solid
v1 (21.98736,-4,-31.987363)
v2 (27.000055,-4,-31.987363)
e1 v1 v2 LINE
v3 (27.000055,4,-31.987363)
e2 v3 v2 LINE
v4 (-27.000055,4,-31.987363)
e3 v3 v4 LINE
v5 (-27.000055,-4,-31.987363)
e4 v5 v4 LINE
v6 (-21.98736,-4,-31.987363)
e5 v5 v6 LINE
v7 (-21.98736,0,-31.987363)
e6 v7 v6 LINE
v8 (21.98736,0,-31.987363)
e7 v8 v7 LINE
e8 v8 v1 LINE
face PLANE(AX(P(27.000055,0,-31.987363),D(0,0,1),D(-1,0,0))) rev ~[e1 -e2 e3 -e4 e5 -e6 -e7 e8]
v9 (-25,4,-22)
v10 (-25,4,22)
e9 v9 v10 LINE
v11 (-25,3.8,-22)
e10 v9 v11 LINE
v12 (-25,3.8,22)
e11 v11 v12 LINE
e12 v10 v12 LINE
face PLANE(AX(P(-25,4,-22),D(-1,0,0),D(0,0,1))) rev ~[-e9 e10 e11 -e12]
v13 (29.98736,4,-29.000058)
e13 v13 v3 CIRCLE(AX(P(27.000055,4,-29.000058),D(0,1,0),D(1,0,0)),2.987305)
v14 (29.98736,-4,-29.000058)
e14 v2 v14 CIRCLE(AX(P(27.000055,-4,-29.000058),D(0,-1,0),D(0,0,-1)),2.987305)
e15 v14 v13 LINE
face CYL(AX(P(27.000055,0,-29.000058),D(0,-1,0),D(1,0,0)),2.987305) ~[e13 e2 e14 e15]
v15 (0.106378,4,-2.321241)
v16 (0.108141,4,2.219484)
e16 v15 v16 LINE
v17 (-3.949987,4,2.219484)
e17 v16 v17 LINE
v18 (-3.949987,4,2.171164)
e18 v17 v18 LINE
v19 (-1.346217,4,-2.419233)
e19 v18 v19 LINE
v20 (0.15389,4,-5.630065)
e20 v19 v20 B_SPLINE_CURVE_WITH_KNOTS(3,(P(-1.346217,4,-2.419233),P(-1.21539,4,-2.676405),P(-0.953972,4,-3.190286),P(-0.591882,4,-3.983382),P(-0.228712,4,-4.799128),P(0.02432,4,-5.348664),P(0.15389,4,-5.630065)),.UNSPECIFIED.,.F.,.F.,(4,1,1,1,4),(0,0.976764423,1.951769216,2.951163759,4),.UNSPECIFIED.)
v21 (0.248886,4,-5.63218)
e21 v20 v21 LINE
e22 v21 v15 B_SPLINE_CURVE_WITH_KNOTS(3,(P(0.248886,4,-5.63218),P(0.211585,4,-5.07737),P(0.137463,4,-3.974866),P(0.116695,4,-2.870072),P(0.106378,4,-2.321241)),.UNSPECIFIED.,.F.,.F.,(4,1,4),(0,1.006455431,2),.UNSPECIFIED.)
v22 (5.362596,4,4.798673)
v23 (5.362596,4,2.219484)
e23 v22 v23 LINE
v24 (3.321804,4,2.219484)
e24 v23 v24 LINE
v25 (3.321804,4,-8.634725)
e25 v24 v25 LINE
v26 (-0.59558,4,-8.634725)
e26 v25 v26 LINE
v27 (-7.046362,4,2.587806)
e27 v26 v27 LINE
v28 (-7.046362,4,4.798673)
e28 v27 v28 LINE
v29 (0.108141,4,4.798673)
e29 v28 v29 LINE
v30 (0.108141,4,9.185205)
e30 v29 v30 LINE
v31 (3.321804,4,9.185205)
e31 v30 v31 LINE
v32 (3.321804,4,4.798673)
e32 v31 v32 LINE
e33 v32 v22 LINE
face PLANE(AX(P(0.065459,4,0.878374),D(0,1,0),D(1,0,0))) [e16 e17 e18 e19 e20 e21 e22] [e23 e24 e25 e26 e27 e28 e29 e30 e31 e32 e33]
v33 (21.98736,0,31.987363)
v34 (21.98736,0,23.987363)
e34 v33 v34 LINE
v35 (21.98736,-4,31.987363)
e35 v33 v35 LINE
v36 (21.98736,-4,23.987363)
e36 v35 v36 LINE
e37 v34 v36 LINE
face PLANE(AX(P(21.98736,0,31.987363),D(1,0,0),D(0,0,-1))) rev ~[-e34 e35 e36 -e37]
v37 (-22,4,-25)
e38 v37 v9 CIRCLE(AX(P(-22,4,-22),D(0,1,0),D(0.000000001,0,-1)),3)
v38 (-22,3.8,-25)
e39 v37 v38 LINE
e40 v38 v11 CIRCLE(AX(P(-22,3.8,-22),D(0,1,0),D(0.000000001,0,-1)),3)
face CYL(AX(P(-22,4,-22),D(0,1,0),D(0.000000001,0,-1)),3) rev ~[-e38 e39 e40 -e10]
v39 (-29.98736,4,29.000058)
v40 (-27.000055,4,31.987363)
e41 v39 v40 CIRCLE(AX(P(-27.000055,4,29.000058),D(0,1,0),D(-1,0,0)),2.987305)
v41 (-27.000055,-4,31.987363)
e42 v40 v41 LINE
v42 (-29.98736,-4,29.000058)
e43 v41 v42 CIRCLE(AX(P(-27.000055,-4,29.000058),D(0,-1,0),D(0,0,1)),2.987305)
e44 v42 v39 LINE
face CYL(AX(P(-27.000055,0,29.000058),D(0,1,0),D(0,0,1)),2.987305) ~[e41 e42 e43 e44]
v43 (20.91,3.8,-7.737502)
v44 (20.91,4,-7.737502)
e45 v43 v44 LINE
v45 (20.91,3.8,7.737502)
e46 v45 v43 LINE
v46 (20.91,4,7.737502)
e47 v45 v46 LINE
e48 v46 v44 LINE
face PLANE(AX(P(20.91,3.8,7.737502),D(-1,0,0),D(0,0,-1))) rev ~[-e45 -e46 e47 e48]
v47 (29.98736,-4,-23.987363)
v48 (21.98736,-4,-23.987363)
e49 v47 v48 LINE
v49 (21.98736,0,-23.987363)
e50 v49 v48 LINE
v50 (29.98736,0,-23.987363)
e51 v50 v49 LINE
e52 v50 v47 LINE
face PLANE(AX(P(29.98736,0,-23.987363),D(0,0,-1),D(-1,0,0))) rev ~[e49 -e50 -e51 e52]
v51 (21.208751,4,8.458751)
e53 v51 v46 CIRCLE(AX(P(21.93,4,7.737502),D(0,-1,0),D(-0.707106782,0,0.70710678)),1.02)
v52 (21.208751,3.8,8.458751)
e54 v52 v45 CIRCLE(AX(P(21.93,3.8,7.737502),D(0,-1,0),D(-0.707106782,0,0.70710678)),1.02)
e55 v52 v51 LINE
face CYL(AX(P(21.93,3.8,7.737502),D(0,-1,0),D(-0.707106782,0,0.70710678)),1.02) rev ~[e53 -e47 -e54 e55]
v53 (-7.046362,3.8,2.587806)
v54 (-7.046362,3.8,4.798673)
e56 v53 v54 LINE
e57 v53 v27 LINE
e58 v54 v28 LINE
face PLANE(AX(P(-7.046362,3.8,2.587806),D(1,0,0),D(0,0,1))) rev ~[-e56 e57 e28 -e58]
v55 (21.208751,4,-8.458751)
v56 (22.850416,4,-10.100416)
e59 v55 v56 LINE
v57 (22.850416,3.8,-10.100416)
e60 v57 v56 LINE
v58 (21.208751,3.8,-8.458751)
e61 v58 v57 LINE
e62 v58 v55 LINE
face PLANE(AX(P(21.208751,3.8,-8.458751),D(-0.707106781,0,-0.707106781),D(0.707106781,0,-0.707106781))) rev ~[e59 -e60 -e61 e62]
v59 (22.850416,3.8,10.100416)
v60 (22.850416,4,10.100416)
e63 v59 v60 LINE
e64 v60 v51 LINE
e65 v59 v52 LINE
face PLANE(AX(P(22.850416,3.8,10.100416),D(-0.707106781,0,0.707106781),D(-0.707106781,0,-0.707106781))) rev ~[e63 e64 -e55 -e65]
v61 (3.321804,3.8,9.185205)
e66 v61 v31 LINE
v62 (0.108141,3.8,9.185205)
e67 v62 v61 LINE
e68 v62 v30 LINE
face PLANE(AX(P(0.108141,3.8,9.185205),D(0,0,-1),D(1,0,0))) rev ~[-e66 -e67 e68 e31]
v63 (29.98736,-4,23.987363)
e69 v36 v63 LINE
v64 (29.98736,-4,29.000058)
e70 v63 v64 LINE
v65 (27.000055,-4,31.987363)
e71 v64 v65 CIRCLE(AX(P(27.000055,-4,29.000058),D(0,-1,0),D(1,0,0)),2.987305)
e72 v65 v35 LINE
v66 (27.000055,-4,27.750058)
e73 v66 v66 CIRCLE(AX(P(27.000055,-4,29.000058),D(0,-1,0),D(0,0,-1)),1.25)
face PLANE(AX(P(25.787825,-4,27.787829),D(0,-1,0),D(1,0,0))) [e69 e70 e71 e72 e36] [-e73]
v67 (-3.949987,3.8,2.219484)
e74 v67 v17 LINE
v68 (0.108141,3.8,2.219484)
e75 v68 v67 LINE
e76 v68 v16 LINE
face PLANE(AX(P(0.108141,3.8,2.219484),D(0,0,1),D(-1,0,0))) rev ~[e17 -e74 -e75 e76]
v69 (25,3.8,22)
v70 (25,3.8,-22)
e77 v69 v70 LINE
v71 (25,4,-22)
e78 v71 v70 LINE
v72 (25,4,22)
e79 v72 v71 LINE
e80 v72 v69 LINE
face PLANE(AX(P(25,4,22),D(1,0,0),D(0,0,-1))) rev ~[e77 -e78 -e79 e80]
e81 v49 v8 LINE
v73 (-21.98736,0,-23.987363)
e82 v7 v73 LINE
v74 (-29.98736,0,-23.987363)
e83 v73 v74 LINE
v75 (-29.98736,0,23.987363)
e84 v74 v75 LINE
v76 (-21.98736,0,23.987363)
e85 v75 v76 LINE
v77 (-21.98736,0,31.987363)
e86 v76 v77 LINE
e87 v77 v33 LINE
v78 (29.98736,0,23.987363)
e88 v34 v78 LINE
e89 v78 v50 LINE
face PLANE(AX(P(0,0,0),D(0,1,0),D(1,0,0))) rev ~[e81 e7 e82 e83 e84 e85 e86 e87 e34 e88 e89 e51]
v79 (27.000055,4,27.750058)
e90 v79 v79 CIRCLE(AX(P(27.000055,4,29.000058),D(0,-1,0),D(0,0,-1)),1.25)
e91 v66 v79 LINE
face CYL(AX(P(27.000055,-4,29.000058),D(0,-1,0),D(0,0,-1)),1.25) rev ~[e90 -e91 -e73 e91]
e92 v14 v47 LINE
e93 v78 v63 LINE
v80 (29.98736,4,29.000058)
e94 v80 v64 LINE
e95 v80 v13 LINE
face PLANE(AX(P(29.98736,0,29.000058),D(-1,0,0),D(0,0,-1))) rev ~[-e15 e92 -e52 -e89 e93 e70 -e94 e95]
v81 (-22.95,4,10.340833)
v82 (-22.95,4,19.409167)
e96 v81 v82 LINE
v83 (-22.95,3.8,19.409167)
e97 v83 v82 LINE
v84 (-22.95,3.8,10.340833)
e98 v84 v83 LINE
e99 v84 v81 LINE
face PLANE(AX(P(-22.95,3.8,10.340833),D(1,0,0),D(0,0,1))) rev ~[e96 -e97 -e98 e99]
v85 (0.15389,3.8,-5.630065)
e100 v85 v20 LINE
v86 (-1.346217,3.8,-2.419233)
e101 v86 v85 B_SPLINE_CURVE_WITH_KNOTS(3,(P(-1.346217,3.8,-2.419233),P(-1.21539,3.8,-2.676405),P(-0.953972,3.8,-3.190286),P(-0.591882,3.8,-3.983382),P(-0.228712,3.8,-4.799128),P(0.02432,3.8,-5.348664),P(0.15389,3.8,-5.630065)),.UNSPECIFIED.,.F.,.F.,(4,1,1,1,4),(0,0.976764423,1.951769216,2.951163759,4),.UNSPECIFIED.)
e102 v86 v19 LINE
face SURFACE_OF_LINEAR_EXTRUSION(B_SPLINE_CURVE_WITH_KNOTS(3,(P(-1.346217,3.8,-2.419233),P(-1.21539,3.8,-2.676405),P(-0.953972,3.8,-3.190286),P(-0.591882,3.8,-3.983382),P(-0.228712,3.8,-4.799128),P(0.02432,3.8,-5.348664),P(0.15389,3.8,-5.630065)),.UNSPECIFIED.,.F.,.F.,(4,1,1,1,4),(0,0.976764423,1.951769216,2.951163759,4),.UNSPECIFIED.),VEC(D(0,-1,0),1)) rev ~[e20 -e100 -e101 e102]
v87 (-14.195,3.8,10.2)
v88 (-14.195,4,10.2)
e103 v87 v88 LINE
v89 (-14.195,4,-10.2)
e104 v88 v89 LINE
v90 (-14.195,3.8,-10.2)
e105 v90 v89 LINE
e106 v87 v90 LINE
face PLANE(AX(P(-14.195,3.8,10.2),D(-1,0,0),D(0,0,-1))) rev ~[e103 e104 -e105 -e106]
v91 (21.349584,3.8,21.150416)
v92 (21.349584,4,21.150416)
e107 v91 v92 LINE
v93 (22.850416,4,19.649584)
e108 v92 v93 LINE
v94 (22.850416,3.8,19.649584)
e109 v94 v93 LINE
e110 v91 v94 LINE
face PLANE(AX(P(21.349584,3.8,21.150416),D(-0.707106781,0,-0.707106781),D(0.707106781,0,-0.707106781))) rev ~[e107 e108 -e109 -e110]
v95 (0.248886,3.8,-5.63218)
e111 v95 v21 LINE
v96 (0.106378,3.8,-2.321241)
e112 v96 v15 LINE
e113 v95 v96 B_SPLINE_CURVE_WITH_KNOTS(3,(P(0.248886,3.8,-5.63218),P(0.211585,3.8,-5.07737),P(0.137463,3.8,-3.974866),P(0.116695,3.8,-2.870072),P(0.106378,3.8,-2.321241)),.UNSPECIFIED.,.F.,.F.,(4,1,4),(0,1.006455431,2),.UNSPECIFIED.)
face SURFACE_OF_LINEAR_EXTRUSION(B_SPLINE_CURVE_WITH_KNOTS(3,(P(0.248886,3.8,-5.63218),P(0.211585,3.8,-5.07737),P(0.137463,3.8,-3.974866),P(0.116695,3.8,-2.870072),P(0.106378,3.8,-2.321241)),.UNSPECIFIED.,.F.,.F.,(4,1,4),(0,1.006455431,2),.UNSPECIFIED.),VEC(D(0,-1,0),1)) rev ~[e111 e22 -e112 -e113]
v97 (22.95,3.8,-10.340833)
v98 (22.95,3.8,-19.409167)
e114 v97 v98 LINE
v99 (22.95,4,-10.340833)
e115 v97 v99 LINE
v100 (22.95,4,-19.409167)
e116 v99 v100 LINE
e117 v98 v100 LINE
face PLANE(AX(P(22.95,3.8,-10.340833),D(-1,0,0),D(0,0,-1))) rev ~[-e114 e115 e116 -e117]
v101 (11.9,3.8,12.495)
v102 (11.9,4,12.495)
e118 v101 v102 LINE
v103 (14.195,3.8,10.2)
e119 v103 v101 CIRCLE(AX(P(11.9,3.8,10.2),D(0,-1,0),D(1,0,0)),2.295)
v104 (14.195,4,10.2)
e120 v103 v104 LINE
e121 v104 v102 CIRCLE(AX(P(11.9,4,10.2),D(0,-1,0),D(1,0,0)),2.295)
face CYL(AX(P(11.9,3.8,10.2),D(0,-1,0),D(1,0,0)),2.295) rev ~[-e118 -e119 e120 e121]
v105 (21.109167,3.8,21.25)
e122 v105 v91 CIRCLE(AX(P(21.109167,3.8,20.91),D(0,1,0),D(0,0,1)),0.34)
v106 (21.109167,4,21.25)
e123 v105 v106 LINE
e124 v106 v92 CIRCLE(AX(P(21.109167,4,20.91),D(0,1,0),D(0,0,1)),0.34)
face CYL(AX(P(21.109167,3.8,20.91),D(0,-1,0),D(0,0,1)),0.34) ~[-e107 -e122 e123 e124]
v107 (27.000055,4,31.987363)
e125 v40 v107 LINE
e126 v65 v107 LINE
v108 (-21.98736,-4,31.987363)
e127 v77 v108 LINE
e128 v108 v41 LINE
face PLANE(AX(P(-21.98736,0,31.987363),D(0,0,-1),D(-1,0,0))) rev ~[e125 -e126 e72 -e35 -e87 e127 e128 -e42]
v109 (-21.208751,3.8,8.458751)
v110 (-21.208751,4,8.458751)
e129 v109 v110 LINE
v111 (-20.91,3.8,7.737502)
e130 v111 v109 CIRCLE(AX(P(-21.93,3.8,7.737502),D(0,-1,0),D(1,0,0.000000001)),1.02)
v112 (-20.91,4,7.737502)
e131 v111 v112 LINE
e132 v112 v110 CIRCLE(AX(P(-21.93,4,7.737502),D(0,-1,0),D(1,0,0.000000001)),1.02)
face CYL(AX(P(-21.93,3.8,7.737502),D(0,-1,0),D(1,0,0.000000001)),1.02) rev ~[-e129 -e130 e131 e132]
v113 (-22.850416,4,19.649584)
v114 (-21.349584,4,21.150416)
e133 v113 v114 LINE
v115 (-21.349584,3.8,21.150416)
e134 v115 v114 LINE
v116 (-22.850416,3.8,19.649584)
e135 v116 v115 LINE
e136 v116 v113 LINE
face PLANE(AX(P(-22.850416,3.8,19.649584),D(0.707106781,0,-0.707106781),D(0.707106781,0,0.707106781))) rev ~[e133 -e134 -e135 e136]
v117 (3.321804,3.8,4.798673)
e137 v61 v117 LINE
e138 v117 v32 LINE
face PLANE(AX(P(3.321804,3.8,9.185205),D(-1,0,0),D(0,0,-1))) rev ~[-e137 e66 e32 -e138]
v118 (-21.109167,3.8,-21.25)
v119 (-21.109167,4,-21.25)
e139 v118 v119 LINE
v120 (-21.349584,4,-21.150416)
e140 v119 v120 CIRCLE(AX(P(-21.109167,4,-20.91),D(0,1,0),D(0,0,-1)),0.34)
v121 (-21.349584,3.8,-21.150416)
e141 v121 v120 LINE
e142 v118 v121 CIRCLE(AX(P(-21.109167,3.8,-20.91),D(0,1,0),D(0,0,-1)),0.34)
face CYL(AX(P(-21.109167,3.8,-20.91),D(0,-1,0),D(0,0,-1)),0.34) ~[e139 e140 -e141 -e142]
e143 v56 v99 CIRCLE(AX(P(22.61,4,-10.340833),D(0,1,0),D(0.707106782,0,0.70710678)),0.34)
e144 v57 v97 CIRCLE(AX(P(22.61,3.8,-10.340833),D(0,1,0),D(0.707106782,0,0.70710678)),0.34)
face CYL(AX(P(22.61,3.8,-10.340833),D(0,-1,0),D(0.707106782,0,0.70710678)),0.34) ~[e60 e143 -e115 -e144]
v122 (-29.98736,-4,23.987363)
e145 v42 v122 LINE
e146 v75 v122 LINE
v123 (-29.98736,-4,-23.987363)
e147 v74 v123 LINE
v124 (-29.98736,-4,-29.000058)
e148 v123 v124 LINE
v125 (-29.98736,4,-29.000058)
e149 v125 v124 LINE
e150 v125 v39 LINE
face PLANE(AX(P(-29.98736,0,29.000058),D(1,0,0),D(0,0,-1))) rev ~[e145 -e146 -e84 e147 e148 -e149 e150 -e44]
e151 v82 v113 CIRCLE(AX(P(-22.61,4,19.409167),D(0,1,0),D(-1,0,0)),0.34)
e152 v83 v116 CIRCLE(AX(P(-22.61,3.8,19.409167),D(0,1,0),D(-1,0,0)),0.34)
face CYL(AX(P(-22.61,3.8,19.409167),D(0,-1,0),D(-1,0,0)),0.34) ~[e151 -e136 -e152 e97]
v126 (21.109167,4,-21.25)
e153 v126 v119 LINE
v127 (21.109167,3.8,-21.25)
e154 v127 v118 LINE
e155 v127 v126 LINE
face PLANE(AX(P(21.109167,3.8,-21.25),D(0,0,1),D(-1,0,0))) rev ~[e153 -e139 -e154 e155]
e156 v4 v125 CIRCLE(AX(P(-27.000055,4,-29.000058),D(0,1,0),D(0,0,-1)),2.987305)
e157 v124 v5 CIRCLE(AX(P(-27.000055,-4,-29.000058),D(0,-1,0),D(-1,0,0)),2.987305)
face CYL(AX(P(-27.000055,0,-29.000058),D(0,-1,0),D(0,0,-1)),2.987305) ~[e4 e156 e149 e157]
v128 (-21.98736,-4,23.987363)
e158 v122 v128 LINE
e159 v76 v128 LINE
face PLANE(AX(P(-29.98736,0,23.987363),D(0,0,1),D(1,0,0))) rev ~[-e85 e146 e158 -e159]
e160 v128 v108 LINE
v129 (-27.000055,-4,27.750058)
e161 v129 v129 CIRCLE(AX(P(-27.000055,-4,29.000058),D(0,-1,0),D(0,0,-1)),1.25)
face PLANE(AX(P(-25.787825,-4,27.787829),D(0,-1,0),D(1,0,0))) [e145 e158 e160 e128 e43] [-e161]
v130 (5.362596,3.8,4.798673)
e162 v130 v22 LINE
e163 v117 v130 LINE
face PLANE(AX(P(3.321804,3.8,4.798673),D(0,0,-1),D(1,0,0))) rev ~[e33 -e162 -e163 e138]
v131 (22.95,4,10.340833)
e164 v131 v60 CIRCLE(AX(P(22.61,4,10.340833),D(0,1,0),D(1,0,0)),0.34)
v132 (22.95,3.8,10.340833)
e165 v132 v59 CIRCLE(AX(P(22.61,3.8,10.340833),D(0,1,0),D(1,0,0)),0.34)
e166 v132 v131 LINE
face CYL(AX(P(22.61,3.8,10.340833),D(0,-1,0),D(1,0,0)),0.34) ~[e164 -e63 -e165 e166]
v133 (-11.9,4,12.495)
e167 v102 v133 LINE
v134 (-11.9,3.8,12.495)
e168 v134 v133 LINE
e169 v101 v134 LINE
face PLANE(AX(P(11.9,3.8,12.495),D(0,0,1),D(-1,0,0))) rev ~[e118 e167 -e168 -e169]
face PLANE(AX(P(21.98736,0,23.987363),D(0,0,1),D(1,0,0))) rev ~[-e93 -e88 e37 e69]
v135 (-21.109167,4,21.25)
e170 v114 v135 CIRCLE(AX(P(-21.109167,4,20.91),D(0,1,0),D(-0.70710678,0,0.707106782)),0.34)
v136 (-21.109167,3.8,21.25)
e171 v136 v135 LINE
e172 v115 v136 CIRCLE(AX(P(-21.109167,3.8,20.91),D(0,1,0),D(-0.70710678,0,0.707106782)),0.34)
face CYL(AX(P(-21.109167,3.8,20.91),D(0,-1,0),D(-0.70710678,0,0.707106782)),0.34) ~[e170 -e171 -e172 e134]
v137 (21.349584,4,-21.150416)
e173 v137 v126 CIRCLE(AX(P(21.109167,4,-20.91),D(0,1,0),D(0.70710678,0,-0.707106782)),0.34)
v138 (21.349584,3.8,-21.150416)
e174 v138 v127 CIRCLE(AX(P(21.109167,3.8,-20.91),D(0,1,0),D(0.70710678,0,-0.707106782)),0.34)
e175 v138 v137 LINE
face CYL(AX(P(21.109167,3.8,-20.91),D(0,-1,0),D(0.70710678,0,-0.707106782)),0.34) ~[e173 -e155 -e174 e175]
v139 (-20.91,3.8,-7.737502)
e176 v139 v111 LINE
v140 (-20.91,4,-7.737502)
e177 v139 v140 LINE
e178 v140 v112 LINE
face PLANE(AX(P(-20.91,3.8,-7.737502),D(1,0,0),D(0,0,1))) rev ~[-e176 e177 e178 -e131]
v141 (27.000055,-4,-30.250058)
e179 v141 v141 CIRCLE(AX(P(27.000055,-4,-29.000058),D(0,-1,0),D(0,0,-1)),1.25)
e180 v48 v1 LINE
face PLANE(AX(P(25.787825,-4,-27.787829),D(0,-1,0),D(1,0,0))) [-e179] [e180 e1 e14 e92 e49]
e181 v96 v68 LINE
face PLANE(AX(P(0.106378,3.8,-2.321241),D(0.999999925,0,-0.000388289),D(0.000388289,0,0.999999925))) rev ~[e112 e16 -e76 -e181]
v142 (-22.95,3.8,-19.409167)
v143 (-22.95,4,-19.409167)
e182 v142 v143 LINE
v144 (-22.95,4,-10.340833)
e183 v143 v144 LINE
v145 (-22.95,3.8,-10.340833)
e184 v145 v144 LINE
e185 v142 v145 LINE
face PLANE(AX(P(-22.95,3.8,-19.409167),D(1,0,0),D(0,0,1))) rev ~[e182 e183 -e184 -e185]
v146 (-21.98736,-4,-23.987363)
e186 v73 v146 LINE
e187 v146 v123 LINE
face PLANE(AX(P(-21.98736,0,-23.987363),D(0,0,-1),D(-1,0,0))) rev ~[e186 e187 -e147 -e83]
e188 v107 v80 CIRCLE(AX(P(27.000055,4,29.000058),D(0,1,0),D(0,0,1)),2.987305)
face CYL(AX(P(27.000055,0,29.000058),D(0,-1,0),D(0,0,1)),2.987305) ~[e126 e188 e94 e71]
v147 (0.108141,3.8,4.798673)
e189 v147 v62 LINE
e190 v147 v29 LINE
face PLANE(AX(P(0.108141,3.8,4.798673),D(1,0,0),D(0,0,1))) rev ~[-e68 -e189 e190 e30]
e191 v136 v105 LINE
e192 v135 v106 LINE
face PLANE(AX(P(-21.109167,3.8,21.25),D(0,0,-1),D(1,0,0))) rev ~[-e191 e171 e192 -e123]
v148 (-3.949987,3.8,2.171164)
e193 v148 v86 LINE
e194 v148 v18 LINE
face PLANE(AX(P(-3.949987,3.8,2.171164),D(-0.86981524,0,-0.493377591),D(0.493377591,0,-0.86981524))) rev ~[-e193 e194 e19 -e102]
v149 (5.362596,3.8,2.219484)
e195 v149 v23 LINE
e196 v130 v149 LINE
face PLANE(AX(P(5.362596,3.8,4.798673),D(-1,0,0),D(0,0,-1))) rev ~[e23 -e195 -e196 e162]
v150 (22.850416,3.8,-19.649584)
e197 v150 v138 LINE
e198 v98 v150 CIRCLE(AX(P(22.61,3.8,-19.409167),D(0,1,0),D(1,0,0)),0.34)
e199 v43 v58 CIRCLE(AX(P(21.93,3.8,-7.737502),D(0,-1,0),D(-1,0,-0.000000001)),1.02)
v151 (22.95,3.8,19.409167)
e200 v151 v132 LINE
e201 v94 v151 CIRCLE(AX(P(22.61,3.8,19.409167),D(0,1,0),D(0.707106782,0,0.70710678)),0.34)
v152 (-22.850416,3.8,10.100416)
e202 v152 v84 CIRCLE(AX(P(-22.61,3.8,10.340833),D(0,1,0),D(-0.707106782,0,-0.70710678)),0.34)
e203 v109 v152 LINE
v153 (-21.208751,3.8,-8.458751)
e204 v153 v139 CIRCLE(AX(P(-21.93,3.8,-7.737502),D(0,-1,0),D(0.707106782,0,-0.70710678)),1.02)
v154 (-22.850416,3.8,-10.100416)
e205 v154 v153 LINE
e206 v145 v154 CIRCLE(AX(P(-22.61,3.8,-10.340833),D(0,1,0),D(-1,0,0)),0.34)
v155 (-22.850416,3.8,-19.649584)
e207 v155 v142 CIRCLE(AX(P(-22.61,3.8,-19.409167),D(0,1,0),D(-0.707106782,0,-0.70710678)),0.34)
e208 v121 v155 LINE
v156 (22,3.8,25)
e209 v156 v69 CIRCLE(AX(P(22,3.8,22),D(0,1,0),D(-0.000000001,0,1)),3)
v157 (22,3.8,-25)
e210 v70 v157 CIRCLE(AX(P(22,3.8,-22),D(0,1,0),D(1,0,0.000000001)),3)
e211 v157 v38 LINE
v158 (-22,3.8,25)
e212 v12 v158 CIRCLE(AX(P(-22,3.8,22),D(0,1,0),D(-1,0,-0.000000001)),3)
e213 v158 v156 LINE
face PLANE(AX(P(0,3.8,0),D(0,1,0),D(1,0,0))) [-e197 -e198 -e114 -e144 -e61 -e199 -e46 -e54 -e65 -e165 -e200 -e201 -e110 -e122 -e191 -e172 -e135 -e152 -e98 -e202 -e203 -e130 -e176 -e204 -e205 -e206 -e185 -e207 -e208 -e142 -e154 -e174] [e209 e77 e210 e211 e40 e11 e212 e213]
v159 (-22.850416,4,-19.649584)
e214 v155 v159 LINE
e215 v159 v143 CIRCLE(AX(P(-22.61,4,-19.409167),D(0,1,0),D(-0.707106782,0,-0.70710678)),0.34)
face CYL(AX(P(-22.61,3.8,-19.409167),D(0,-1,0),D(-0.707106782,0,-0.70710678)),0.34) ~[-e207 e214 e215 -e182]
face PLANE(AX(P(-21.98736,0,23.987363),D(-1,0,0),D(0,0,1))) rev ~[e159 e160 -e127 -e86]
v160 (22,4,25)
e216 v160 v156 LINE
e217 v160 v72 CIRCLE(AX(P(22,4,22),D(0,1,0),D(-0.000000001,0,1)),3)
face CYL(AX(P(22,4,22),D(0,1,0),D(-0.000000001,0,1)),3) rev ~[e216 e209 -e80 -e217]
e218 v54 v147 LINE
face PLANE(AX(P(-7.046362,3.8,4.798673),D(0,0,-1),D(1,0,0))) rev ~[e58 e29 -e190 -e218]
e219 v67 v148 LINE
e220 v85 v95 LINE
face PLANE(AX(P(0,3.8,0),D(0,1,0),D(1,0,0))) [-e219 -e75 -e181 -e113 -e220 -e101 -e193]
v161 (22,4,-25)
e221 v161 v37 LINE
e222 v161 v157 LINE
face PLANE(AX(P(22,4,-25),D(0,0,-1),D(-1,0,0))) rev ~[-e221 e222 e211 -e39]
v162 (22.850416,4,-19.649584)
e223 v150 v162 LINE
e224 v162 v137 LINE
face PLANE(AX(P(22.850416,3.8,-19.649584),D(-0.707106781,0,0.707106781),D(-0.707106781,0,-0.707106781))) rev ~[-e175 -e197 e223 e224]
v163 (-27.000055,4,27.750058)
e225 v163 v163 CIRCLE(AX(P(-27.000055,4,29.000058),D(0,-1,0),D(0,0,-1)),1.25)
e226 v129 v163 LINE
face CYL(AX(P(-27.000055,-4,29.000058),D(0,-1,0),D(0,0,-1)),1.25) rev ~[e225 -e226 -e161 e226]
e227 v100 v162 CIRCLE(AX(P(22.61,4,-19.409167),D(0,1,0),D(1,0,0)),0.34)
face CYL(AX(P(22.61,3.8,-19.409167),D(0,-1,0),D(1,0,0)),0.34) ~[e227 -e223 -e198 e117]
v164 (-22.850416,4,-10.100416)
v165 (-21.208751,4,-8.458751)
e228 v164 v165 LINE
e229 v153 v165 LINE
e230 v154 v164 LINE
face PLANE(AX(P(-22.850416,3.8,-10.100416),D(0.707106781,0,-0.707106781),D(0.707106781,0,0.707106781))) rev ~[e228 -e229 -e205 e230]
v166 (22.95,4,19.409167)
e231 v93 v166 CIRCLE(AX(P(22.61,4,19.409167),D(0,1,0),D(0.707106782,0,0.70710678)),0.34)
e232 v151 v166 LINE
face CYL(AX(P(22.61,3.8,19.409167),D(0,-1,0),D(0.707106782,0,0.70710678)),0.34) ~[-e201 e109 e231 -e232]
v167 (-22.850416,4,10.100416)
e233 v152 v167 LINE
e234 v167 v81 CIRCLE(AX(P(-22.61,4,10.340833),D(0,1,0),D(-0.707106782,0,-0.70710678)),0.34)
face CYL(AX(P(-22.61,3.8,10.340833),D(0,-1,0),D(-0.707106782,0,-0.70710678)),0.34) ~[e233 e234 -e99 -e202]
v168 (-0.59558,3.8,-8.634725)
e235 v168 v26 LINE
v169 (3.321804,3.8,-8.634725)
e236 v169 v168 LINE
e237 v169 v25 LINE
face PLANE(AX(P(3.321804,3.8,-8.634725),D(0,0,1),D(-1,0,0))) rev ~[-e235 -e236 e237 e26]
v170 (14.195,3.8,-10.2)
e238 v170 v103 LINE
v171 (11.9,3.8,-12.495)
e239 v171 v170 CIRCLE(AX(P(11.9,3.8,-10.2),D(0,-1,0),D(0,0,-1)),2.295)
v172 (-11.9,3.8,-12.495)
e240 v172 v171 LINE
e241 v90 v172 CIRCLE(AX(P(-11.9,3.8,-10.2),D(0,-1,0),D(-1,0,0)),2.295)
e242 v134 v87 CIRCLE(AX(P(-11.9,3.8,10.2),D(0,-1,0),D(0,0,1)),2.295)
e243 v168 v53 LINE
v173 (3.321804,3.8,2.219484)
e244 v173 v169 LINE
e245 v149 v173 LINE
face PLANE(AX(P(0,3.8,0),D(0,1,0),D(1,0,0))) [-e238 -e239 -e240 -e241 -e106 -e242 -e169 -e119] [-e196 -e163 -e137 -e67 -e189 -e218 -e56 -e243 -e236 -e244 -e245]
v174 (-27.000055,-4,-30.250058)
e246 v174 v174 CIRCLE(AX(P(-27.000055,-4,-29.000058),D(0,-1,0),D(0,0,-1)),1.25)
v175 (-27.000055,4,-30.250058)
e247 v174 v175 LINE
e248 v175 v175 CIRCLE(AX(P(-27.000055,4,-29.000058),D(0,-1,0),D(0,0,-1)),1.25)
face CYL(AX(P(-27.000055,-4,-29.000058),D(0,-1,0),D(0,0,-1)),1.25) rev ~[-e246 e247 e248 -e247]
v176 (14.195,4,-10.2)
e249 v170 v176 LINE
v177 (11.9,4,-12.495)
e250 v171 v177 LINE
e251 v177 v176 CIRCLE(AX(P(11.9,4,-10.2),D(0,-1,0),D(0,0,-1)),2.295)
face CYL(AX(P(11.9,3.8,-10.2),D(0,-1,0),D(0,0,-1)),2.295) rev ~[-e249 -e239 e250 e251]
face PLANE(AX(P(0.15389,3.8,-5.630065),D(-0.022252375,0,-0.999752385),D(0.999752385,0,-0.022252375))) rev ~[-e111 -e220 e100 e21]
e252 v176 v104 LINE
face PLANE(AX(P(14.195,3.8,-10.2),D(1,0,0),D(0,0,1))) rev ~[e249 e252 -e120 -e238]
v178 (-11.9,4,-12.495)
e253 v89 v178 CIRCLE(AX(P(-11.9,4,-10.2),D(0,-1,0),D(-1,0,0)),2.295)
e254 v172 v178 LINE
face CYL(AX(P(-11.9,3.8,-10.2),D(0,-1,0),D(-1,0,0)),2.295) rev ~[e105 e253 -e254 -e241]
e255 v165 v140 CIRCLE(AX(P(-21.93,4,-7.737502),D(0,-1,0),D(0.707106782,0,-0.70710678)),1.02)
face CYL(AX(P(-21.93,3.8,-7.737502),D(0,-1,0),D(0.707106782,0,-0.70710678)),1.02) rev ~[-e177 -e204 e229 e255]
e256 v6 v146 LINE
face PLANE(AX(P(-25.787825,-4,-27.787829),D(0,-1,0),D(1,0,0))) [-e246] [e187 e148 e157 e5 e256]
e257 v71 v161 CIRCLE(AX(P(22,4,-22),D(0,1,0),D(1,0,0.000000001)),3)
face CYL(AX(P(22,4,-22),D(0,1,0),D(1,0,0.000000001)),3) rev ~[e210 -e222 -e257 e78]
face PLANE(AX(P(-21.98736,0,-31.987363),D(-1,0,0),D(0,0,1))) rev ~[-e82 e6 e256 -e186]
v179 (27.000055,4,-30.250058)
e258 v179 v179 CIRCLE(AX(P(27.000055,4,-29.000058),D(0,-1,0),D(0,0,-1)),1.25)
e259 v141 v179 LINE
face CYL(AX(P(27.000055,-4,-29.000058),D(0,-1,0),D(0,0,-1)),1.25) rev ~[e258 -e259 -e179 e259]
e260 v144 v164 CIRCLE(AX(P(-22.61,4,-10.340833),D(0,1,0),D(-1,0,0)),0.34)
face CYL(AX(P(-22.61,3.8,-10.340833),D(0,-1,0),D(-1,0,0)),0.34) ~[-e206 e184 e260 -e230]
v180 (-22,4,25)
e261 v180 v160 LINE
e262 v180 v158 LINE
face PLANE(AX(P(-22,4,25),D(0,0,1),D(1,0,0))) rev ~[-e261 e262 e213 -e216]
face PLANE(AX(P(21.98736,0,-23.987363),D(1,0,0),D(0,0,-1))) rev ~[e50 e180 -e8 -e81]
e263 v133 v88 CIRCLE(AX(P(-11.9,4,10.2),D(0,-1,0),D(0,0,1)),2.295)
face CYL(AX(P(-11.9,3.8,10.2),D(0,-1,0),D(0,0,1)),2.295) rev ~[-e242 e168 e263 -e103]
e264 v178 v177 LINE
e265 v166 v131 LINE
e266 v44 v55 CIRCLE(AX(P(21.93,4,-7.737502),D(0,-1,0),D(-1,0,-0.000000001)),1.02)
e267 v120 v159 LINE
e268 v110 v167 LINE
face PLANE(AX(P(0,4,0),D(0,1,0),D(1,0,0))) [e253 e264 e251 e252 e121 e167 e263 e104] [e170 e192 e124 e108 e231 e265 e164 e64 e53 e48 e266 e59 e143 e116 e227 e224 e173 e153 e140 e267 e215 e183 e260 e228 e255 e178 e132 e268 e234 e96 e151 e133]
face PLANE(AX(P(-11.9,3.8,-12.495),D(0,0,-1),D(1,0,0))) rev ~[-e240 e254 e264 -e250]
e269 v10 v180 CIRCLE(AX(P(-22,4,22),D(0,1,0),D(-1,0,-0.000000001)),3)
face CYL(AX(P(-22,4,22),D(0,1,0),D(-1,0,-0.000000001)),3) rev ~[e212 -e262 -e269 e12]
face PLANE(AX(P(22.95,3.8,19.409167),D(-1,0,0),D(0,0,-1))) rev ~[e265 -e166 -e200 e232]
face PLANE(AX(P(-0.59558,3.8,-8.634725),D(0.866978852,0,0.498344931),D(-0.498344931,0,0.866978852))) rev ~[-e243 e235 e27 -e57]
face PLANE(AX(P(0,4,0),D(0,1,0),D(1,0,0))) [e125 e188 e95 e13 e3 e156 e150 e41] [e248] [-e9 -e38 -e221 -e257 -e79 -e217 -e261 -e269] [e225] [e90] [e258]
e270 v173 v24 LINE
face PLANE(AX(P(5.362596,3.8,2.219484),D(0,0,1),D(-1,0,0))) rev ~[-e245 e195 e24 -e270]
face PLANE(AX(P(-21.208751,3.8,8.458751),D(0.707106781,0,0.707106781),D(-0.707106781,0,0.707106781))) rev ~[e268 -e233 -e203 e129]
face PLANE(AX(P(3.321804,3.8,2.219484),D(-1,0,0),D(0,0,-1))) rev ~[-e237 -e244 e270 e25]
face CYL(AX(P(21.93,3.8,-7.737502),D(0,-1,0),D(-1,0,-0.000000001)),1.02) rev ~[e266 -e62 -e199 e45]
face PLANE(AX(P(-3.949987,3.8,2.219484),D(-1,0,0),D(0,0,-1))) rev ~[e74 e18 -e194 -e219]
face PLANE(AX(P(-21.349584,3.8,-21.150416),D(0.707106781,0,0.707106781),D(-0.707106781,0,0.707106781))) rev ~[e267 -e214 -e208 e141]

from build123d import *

# Parameters (mm, degrees)
EXTRUDE_1_DEPTH     = 4
EXTRUDE_2_DEPTH     = 4
SKETCH_3_R          = 1.25
CUT_EXTRUDE_1_DEPTH = 15
CUT_EXTRUDE_2_DEPTH = 0.2
EXTRUDE_5_DEPTH     = 0.2
EXTRUDE_6_DEPTH     = 0.2
SKETCH_13_R         = 2.280555424
SKETCH_13_R_2       = 2.93479419
SKETCH_13_R_3       = 2.630805897
SKETCH_13_R_4       = 2.84821008
EXTRUDE_7_DEPTH     = 0.2


with BuildPart() as part:
    # 草图1 → 凸台-拉伸1 (new body)
    with BuildSketch(Plane(origin=(0, 0, 0), x_dir=(1, 0, 0), z_dir=(0, 1, 0))):
        with BuildLine():
            Line((-27.00005461, -31.987363475), (27.00005461, -31.987363475))
            ThreePointArc((27.00005461, -31.987363475), (29.112398272, -31.112402082), (29.987359665, -29.00005842))
            Line((29.987359665, -29.00005842), (29.987359665, 29.00005842))
            ThreePointArc((29.987359665, 29.00005842), (29.112398272, 31.112402082), (27.00005461, 31.987363475))
            Line((27.00005461, 31.987363475), (-27.00005461, 31.987363475))
            ThreePointArc((-27.00005461, 31.987363475), (-29.112398272, 31.112402082), (-29.987359665, 29.00005842))
            Line((-29.987359665, 29.00005842), (-29.987359665, -29.00005842))
            ThreePointArc((-29.987359665, -29.00005842), (-29.112398272, -31.112402082), (-27.00005461, -31.987363475))
        make_face()
    extrude(amount=EXTRUDE_1_DEPTH)

    # 草图2 → 凸台-拉伸2 (add)
    with BuildSketch(Plane.XZ):
        with BuildLine():
            Line((-21.987359665, 23.987363475), (-21.987359665, 31.987363475))
            Line((-21.987359665, 31.987363475), (-27.00005461, 31.987363475))
            ThreePointArc((-27.00005461, 31.987363475), (-29.112398272, 31.112402082), (-29.987359665, 29.00005842))
            Line((-29.987359665, 29.00005842), (-29.987359665, 23.987363475))
            Line((-29.987359665, 23.987363475), (-21.987359665, 23.987363475))
        make_face()
        with BuildLine():
            Line((21.987359665, -23.987363475), (21.987359665, -31.987363475))
            Line((21.987359665, -31.987363475), (27.00005461, -31.987363475))
            ThreePointArc((27.00005461, -31.987363475), (29.112398272, -31.112402082), (29.987359665, -29.00005842))
            Line((29.987359665, -29.00005842), (29.987359665, -23.987363475))
            Line((29.987359665, -23.987363475), (21.987359665, -23.987363475))
        make_face()
        with BuildLine():
            Line((21.987359665, 23.987363475), (29.987359665, 23.987363475))
            Line((29.987359665, 23.987363475), (29.987359665, 29.00005842))
            ThreePointArc((29.987359665, 29.00005842), (29.112398272, 31.112402082), (27.00005461, 31.987363475))
            Line((27.00005461, 31.987363475), (21.987359665, 31.987363475))
            Line((21.987359665, 31.987363475), (21.987359665, 23.987363475))
        make_face()
        with BuildLine():
            Line((-29.987359665, -23.987363475), (-29.987359665, -29.00005842))
            ThreePointArc((-29.987359665, -29.00005842), (-29.112398272, -31.112402082), (-27.00005461, -31.987363475))
            Line((-27.00005461, -31.987363475), (-21.987359665, -31.987363475))
            Line((-21.987359665, -31.987363475), (-21.987359665, -23.987363475))
            Line((-21.987359665, -23.987363475), (-29.987359665, -23.987363475))
        make_face()
    extrude(amount=EXTRUDE_2_DEPTH)

    # 草图3 → 切除-拉伸1 (cut)
    with BuildSketch(Plane.XZ.offset(4)):
        with Locations(Location((-27.00005461, 29.00005842, 0), (0, 0, 270))):
            Circle(SKETCH_3_R)
        with Locations(Location((27.00005461, 29.00005842, 0), (0, 0, 270))):
            Circle(SKETCH_3_R)
        with Locations(Location((27.00005461, -29.00005842, 0), (0, 0, 270))):
            Circle(SKETCH_3_R)
        with Locations(Location((-27.00005461, -29.00005842, 0), (0, 0, 270))):
            Circle(SKETCH_3_R)
    extrude(amount=-CUT_EXTRUDE_1_DEPTH, mode=Mode.SUBTRACT)

    # 草图4 → 切除-拉伸2 (cut)
    with BuildSketch(Plane(origin=(0, 4, 0), x_dir=(1, 0, 0), z_dir=(0, 1, 0))):
        with BuildLine():
            Line((-22, -25), (22, -25))
            ThreePointArc((22, -25), (24.121320344, -24.121320344), (25, -22))
            Line((25, -22), (25, 22))
            ThreePointArc((25, 22), (24.121320344, 24.121320344), (22, 25))
            Line((22, 25), (-22, 25))
            ThreePointArc((-22, 25), (-24.121320344, 24.121320344), (-25, 22))
            Line((-25, 22), (-25, -22))
            ThreePointArc((-25, -22), (-24.121320344, -24.121320344), (-22, -25))
        make_face()
    extrude(amount=-CUT_EXTRUDE_2_DEPTH, mode=Mode.SUBTRACT)

    # 草图9 → 凸台-拉伸5 (add)
    with BuildSketch(Plane(origin=(0, 3.8, 0), x_dir=(1, 0, 0), z_dir=(0, 1, 0))):
        with BuildLine():
            ThreePointArc((-21.208751083, 8.458751083), (-20.987642877, 8.127839267), (-20.91, 7.737502166))
            Line((-20.91, 7.737502166), (-20.91, -7.737502166))
            ThreePointArc((-20.91, -7.737502166), (-20.987642877, -8.127839267), (-21.208751083, -8.458751083))
            Line((-21.208751083, -8.458751083), (-22.850416306, -10.100416306))
            ThreePointArc((-22.850416306, -10.100416306), (-22.924119041, -10.210720244), (-22.95, -10.340832611))
            Line((-22.95, -10.340832611), (-22.95, -19.409167389))
            ThreePointArc((-22.95, -19.409167389), (-22.924119041, -19.539279756), (-22.850416306, -19.649583694))
            Line((-22.850416306, -19.649583694), (-21.349583694, -21.150416306))
            ThreePointArc((-21.349583694, -21.150416306), (-21.239279756, -21.224119041), (-21.109167389, -21.25))
            Line((-21.109167389, -21.25), (21.109167389, -21.25))
            ThreePointArc((21.109167389, -21.25), (21.239279756, -21.224119041), (21.349583694, -21.150416306))
            Line((21.349583694, -21.150416306), (22.850416306, -19.649583694))
            ThreePointArc((22.850416306, -19.649583694), (22.924119041, -19.539279756), (22.95, -19.409167389))
            Line((22.95, -19.409167389), (22.95, -10.340832611))
            ThreePointArc((22.95, -10.340832611), (22.924119041, -10.210720244), (22.850416306, -10.100416306))
            Line((22.850416306, -10.100416306), (21.208751083, -8.458751083))
            ThreePointArc((21.208751083, -8.458751083), (20.987642877, -8.127839267), (20.91, -7.737502166))
            Line((20.91, -7.737502166), (20.91, 7.737502166))
            ThreePointArc((20.91, 7.737502166), (20.987642877, 8.127839267), (21.208751083, 8.458751083))
            Line((21.208751083, 8.458751083), (22.850416306, 10.100416306))
            ThreePointArc((22.850416306, 10.100416306), (22.924119041, 10.210720244), (22.95, 10.340832611))
            Line((22.95, 10.340832611), (22.95, 19.409167389))
            ThreePointArc((22.95, 19.409167389), (22.924119041, 19.539279756), (22.850416306, 19.649583694))
            Line((22.850416306, 19.649583694), (21.349583694, 21.150416306))
            ThreePointArc((21.349583694, 21.150416306), (21.239279756, 21.224119041), (21.109167389, 21.25))
            Line((21.109167389, 21.25), (-21.109167389, 21.25))
            ThreePointArc((-21.109167389, 21.25), (-21.239279756, 21.224119041), (-21.349583694, 21.150416306))
            Line((-21.349583694, 21.150416306), (-22.850416306, 19.649583694))
            ThreePointArc((-22.850416306, 19.649583694), (-22.924119041, 19.539279756), (-22.95, 19.409167389))
            Line((-22.95, 19.409167389), (-22.95, 10.340832611))
            ThreePointArc((-22.95, 10.340832611), (-22.924119041, 10.210720244), (-22.850416306, 10.100416306))
            Line((-22.850416306, 10.100416306), (-21.208751083, 8.458751083))
        make_face()
        with BuildLine():
            ThreePointArc((-14.688, -17.765), (-16.15, -19.227), (-17.612, -17.765))
            ThreePointArc((-17.612, -17.765), (-16.15, -16.303), (-14.688, -17.765))
        make_face(mode=Mode.SUBTRACT)
        with BuildLine():
            ThreePointArc((14.688, -17.765), (16.15, -16.303), (17.612, -17.765))
            ThreePointArc((17.612, -17.765), (16.15, -19.227), (14.688, -17.765))
        make_face(mode=Mode.SUBTRACT)
        with BuildLine():
            Line((11.9, -12.495), (-11.9, -12.495))
            ThreePointArc((-11.9, -12.495), (-13.522810063, -11.822810063), (-14.195, -10.2))
            Line((-14.195, -10.2), (-14.195, 10.2))
            ThreePointArc((-14.195, 10.2), (-13.522810063, 11.822810063), (-11.9, 12.495))
            Line((-11.9, 12.495), (11.9, 12.495))
            ThreePointArc((11.9, 12.495), (13.522810063, 11.822810063), (14.195, 10.2))
            Line((14.195, 10.2), (14.195, -10.2))
            ThreePointArc((14.195, -10.2), (13.522810063, -11.822810063), (11.9, -12.495))
        make_face(mode=Mode.SUBTRACT)
        with BuildLine():
            ThreePointArc((-14.688, 17.765), (-16.15, 16.303), (-17.612, 17.765))
            ThreePointArc((-17.612, 17.765), (-16.15, 19.227), (-14.688, 17.765))
        make_face(mode=Mode.SUBTRACT)
        with BuildLine():
            ThreePointArc((17.612, 17.765), (16.15, 16.303), (14.688, 17.765))
            ThreePointArc((14.688, 17.765), (16.15, 19.227), (17.612, 17.765))
        make_face(mode=Mode.SUBTRACT)
    extrude(amount=EXTRUDE_5_DEPTH)

    # 草图12 → 凸台-拉伸6 (add)
    with BuildSketch(Plane(origin=(0, 3.8, 0), x_dir=(1, 0, 0), z_dir=(0, 1, 0))):
        Polygon((5.362596469, -4.798672993), (5.362596469, -2.219483683), (3.321803619, -2.219483683), (3.321803619, 8.634725488), (-0.595580356, 8.634725488), (-7.046362352, -2.587805787), (-7.046362352, -4.798672993), (0.108141316, -4.798672993), (0.108141316, -9.18520475), (3.321803619, -9.18520475), (3.321803619, -4.798672993), align=None)
        with BuildLine():
            add(Edge.make_bspline(
                [(-1.346216807, 2.419233234), (-1.215389858, 2.676405088), (-0.953971645, 3.190285503), (-0.591881771, 3.983382076), (-0.22871235, 4.799127855), (0.024319607, 5.348664428), (0.153889522, 5.630065273)],
                knots=[0, 0, 0, 0, 0.976764423, 1.951769216, 2.951163759, 4, 4, 4, 4], degree=3))
            Line((0.153889522, 5.630065273), (0.248885651, 5.632179686))
            add(Edge.make_bspline(
                [(0.248885651, 5.632179686), (0.211585261, 5.077369517), (0.137462974, 3.974866313), (0.116695103, 2.87007222), (0.106378201, 2.321241135)],
                knots=[0, 0, 0, 0, 1.006455431, 2, 2, 2, 2], degree=3))
            Line((0.106378201, 2.321241135), (0.108141316, -2.219483683))
            Line((0.108141316, -2.219483683), (-3.949986994, -2.219483683))
            Line((-3.949986994, -2.219483683), (-3.949986994, -2.171163716))
            Line((-3.949986994, -2.171163716), (-1.346216807, 2.419233234))
        make_face(mode=Mode.SUBTRACT)
    extrude(amount=EXTRUDE_6_DEPTH)

    # 草图13 → 凸台-拉伸7 (add)
    with BuildSketch(Plane(origin=(0, 3.8, 0), x_dir=(1, 0, 0), z_dir=(0, 1, 0))):
        with Locations((-16.15, 17.765)):
            Circle(SKETCH_13_R)
        with Locations((16.15, 17.765)):
            Circle(SKETCH_13_R_2)
        with Locations((16.15, -17.765)):
            Circle(SKETCH_13_R_3)
        with Locations((-16.15, -17.765)):
            Circle(SKETCH_13_R_4)
    extrude(amount=EXTRUDE_7_DEPTH)


solid = part.part
